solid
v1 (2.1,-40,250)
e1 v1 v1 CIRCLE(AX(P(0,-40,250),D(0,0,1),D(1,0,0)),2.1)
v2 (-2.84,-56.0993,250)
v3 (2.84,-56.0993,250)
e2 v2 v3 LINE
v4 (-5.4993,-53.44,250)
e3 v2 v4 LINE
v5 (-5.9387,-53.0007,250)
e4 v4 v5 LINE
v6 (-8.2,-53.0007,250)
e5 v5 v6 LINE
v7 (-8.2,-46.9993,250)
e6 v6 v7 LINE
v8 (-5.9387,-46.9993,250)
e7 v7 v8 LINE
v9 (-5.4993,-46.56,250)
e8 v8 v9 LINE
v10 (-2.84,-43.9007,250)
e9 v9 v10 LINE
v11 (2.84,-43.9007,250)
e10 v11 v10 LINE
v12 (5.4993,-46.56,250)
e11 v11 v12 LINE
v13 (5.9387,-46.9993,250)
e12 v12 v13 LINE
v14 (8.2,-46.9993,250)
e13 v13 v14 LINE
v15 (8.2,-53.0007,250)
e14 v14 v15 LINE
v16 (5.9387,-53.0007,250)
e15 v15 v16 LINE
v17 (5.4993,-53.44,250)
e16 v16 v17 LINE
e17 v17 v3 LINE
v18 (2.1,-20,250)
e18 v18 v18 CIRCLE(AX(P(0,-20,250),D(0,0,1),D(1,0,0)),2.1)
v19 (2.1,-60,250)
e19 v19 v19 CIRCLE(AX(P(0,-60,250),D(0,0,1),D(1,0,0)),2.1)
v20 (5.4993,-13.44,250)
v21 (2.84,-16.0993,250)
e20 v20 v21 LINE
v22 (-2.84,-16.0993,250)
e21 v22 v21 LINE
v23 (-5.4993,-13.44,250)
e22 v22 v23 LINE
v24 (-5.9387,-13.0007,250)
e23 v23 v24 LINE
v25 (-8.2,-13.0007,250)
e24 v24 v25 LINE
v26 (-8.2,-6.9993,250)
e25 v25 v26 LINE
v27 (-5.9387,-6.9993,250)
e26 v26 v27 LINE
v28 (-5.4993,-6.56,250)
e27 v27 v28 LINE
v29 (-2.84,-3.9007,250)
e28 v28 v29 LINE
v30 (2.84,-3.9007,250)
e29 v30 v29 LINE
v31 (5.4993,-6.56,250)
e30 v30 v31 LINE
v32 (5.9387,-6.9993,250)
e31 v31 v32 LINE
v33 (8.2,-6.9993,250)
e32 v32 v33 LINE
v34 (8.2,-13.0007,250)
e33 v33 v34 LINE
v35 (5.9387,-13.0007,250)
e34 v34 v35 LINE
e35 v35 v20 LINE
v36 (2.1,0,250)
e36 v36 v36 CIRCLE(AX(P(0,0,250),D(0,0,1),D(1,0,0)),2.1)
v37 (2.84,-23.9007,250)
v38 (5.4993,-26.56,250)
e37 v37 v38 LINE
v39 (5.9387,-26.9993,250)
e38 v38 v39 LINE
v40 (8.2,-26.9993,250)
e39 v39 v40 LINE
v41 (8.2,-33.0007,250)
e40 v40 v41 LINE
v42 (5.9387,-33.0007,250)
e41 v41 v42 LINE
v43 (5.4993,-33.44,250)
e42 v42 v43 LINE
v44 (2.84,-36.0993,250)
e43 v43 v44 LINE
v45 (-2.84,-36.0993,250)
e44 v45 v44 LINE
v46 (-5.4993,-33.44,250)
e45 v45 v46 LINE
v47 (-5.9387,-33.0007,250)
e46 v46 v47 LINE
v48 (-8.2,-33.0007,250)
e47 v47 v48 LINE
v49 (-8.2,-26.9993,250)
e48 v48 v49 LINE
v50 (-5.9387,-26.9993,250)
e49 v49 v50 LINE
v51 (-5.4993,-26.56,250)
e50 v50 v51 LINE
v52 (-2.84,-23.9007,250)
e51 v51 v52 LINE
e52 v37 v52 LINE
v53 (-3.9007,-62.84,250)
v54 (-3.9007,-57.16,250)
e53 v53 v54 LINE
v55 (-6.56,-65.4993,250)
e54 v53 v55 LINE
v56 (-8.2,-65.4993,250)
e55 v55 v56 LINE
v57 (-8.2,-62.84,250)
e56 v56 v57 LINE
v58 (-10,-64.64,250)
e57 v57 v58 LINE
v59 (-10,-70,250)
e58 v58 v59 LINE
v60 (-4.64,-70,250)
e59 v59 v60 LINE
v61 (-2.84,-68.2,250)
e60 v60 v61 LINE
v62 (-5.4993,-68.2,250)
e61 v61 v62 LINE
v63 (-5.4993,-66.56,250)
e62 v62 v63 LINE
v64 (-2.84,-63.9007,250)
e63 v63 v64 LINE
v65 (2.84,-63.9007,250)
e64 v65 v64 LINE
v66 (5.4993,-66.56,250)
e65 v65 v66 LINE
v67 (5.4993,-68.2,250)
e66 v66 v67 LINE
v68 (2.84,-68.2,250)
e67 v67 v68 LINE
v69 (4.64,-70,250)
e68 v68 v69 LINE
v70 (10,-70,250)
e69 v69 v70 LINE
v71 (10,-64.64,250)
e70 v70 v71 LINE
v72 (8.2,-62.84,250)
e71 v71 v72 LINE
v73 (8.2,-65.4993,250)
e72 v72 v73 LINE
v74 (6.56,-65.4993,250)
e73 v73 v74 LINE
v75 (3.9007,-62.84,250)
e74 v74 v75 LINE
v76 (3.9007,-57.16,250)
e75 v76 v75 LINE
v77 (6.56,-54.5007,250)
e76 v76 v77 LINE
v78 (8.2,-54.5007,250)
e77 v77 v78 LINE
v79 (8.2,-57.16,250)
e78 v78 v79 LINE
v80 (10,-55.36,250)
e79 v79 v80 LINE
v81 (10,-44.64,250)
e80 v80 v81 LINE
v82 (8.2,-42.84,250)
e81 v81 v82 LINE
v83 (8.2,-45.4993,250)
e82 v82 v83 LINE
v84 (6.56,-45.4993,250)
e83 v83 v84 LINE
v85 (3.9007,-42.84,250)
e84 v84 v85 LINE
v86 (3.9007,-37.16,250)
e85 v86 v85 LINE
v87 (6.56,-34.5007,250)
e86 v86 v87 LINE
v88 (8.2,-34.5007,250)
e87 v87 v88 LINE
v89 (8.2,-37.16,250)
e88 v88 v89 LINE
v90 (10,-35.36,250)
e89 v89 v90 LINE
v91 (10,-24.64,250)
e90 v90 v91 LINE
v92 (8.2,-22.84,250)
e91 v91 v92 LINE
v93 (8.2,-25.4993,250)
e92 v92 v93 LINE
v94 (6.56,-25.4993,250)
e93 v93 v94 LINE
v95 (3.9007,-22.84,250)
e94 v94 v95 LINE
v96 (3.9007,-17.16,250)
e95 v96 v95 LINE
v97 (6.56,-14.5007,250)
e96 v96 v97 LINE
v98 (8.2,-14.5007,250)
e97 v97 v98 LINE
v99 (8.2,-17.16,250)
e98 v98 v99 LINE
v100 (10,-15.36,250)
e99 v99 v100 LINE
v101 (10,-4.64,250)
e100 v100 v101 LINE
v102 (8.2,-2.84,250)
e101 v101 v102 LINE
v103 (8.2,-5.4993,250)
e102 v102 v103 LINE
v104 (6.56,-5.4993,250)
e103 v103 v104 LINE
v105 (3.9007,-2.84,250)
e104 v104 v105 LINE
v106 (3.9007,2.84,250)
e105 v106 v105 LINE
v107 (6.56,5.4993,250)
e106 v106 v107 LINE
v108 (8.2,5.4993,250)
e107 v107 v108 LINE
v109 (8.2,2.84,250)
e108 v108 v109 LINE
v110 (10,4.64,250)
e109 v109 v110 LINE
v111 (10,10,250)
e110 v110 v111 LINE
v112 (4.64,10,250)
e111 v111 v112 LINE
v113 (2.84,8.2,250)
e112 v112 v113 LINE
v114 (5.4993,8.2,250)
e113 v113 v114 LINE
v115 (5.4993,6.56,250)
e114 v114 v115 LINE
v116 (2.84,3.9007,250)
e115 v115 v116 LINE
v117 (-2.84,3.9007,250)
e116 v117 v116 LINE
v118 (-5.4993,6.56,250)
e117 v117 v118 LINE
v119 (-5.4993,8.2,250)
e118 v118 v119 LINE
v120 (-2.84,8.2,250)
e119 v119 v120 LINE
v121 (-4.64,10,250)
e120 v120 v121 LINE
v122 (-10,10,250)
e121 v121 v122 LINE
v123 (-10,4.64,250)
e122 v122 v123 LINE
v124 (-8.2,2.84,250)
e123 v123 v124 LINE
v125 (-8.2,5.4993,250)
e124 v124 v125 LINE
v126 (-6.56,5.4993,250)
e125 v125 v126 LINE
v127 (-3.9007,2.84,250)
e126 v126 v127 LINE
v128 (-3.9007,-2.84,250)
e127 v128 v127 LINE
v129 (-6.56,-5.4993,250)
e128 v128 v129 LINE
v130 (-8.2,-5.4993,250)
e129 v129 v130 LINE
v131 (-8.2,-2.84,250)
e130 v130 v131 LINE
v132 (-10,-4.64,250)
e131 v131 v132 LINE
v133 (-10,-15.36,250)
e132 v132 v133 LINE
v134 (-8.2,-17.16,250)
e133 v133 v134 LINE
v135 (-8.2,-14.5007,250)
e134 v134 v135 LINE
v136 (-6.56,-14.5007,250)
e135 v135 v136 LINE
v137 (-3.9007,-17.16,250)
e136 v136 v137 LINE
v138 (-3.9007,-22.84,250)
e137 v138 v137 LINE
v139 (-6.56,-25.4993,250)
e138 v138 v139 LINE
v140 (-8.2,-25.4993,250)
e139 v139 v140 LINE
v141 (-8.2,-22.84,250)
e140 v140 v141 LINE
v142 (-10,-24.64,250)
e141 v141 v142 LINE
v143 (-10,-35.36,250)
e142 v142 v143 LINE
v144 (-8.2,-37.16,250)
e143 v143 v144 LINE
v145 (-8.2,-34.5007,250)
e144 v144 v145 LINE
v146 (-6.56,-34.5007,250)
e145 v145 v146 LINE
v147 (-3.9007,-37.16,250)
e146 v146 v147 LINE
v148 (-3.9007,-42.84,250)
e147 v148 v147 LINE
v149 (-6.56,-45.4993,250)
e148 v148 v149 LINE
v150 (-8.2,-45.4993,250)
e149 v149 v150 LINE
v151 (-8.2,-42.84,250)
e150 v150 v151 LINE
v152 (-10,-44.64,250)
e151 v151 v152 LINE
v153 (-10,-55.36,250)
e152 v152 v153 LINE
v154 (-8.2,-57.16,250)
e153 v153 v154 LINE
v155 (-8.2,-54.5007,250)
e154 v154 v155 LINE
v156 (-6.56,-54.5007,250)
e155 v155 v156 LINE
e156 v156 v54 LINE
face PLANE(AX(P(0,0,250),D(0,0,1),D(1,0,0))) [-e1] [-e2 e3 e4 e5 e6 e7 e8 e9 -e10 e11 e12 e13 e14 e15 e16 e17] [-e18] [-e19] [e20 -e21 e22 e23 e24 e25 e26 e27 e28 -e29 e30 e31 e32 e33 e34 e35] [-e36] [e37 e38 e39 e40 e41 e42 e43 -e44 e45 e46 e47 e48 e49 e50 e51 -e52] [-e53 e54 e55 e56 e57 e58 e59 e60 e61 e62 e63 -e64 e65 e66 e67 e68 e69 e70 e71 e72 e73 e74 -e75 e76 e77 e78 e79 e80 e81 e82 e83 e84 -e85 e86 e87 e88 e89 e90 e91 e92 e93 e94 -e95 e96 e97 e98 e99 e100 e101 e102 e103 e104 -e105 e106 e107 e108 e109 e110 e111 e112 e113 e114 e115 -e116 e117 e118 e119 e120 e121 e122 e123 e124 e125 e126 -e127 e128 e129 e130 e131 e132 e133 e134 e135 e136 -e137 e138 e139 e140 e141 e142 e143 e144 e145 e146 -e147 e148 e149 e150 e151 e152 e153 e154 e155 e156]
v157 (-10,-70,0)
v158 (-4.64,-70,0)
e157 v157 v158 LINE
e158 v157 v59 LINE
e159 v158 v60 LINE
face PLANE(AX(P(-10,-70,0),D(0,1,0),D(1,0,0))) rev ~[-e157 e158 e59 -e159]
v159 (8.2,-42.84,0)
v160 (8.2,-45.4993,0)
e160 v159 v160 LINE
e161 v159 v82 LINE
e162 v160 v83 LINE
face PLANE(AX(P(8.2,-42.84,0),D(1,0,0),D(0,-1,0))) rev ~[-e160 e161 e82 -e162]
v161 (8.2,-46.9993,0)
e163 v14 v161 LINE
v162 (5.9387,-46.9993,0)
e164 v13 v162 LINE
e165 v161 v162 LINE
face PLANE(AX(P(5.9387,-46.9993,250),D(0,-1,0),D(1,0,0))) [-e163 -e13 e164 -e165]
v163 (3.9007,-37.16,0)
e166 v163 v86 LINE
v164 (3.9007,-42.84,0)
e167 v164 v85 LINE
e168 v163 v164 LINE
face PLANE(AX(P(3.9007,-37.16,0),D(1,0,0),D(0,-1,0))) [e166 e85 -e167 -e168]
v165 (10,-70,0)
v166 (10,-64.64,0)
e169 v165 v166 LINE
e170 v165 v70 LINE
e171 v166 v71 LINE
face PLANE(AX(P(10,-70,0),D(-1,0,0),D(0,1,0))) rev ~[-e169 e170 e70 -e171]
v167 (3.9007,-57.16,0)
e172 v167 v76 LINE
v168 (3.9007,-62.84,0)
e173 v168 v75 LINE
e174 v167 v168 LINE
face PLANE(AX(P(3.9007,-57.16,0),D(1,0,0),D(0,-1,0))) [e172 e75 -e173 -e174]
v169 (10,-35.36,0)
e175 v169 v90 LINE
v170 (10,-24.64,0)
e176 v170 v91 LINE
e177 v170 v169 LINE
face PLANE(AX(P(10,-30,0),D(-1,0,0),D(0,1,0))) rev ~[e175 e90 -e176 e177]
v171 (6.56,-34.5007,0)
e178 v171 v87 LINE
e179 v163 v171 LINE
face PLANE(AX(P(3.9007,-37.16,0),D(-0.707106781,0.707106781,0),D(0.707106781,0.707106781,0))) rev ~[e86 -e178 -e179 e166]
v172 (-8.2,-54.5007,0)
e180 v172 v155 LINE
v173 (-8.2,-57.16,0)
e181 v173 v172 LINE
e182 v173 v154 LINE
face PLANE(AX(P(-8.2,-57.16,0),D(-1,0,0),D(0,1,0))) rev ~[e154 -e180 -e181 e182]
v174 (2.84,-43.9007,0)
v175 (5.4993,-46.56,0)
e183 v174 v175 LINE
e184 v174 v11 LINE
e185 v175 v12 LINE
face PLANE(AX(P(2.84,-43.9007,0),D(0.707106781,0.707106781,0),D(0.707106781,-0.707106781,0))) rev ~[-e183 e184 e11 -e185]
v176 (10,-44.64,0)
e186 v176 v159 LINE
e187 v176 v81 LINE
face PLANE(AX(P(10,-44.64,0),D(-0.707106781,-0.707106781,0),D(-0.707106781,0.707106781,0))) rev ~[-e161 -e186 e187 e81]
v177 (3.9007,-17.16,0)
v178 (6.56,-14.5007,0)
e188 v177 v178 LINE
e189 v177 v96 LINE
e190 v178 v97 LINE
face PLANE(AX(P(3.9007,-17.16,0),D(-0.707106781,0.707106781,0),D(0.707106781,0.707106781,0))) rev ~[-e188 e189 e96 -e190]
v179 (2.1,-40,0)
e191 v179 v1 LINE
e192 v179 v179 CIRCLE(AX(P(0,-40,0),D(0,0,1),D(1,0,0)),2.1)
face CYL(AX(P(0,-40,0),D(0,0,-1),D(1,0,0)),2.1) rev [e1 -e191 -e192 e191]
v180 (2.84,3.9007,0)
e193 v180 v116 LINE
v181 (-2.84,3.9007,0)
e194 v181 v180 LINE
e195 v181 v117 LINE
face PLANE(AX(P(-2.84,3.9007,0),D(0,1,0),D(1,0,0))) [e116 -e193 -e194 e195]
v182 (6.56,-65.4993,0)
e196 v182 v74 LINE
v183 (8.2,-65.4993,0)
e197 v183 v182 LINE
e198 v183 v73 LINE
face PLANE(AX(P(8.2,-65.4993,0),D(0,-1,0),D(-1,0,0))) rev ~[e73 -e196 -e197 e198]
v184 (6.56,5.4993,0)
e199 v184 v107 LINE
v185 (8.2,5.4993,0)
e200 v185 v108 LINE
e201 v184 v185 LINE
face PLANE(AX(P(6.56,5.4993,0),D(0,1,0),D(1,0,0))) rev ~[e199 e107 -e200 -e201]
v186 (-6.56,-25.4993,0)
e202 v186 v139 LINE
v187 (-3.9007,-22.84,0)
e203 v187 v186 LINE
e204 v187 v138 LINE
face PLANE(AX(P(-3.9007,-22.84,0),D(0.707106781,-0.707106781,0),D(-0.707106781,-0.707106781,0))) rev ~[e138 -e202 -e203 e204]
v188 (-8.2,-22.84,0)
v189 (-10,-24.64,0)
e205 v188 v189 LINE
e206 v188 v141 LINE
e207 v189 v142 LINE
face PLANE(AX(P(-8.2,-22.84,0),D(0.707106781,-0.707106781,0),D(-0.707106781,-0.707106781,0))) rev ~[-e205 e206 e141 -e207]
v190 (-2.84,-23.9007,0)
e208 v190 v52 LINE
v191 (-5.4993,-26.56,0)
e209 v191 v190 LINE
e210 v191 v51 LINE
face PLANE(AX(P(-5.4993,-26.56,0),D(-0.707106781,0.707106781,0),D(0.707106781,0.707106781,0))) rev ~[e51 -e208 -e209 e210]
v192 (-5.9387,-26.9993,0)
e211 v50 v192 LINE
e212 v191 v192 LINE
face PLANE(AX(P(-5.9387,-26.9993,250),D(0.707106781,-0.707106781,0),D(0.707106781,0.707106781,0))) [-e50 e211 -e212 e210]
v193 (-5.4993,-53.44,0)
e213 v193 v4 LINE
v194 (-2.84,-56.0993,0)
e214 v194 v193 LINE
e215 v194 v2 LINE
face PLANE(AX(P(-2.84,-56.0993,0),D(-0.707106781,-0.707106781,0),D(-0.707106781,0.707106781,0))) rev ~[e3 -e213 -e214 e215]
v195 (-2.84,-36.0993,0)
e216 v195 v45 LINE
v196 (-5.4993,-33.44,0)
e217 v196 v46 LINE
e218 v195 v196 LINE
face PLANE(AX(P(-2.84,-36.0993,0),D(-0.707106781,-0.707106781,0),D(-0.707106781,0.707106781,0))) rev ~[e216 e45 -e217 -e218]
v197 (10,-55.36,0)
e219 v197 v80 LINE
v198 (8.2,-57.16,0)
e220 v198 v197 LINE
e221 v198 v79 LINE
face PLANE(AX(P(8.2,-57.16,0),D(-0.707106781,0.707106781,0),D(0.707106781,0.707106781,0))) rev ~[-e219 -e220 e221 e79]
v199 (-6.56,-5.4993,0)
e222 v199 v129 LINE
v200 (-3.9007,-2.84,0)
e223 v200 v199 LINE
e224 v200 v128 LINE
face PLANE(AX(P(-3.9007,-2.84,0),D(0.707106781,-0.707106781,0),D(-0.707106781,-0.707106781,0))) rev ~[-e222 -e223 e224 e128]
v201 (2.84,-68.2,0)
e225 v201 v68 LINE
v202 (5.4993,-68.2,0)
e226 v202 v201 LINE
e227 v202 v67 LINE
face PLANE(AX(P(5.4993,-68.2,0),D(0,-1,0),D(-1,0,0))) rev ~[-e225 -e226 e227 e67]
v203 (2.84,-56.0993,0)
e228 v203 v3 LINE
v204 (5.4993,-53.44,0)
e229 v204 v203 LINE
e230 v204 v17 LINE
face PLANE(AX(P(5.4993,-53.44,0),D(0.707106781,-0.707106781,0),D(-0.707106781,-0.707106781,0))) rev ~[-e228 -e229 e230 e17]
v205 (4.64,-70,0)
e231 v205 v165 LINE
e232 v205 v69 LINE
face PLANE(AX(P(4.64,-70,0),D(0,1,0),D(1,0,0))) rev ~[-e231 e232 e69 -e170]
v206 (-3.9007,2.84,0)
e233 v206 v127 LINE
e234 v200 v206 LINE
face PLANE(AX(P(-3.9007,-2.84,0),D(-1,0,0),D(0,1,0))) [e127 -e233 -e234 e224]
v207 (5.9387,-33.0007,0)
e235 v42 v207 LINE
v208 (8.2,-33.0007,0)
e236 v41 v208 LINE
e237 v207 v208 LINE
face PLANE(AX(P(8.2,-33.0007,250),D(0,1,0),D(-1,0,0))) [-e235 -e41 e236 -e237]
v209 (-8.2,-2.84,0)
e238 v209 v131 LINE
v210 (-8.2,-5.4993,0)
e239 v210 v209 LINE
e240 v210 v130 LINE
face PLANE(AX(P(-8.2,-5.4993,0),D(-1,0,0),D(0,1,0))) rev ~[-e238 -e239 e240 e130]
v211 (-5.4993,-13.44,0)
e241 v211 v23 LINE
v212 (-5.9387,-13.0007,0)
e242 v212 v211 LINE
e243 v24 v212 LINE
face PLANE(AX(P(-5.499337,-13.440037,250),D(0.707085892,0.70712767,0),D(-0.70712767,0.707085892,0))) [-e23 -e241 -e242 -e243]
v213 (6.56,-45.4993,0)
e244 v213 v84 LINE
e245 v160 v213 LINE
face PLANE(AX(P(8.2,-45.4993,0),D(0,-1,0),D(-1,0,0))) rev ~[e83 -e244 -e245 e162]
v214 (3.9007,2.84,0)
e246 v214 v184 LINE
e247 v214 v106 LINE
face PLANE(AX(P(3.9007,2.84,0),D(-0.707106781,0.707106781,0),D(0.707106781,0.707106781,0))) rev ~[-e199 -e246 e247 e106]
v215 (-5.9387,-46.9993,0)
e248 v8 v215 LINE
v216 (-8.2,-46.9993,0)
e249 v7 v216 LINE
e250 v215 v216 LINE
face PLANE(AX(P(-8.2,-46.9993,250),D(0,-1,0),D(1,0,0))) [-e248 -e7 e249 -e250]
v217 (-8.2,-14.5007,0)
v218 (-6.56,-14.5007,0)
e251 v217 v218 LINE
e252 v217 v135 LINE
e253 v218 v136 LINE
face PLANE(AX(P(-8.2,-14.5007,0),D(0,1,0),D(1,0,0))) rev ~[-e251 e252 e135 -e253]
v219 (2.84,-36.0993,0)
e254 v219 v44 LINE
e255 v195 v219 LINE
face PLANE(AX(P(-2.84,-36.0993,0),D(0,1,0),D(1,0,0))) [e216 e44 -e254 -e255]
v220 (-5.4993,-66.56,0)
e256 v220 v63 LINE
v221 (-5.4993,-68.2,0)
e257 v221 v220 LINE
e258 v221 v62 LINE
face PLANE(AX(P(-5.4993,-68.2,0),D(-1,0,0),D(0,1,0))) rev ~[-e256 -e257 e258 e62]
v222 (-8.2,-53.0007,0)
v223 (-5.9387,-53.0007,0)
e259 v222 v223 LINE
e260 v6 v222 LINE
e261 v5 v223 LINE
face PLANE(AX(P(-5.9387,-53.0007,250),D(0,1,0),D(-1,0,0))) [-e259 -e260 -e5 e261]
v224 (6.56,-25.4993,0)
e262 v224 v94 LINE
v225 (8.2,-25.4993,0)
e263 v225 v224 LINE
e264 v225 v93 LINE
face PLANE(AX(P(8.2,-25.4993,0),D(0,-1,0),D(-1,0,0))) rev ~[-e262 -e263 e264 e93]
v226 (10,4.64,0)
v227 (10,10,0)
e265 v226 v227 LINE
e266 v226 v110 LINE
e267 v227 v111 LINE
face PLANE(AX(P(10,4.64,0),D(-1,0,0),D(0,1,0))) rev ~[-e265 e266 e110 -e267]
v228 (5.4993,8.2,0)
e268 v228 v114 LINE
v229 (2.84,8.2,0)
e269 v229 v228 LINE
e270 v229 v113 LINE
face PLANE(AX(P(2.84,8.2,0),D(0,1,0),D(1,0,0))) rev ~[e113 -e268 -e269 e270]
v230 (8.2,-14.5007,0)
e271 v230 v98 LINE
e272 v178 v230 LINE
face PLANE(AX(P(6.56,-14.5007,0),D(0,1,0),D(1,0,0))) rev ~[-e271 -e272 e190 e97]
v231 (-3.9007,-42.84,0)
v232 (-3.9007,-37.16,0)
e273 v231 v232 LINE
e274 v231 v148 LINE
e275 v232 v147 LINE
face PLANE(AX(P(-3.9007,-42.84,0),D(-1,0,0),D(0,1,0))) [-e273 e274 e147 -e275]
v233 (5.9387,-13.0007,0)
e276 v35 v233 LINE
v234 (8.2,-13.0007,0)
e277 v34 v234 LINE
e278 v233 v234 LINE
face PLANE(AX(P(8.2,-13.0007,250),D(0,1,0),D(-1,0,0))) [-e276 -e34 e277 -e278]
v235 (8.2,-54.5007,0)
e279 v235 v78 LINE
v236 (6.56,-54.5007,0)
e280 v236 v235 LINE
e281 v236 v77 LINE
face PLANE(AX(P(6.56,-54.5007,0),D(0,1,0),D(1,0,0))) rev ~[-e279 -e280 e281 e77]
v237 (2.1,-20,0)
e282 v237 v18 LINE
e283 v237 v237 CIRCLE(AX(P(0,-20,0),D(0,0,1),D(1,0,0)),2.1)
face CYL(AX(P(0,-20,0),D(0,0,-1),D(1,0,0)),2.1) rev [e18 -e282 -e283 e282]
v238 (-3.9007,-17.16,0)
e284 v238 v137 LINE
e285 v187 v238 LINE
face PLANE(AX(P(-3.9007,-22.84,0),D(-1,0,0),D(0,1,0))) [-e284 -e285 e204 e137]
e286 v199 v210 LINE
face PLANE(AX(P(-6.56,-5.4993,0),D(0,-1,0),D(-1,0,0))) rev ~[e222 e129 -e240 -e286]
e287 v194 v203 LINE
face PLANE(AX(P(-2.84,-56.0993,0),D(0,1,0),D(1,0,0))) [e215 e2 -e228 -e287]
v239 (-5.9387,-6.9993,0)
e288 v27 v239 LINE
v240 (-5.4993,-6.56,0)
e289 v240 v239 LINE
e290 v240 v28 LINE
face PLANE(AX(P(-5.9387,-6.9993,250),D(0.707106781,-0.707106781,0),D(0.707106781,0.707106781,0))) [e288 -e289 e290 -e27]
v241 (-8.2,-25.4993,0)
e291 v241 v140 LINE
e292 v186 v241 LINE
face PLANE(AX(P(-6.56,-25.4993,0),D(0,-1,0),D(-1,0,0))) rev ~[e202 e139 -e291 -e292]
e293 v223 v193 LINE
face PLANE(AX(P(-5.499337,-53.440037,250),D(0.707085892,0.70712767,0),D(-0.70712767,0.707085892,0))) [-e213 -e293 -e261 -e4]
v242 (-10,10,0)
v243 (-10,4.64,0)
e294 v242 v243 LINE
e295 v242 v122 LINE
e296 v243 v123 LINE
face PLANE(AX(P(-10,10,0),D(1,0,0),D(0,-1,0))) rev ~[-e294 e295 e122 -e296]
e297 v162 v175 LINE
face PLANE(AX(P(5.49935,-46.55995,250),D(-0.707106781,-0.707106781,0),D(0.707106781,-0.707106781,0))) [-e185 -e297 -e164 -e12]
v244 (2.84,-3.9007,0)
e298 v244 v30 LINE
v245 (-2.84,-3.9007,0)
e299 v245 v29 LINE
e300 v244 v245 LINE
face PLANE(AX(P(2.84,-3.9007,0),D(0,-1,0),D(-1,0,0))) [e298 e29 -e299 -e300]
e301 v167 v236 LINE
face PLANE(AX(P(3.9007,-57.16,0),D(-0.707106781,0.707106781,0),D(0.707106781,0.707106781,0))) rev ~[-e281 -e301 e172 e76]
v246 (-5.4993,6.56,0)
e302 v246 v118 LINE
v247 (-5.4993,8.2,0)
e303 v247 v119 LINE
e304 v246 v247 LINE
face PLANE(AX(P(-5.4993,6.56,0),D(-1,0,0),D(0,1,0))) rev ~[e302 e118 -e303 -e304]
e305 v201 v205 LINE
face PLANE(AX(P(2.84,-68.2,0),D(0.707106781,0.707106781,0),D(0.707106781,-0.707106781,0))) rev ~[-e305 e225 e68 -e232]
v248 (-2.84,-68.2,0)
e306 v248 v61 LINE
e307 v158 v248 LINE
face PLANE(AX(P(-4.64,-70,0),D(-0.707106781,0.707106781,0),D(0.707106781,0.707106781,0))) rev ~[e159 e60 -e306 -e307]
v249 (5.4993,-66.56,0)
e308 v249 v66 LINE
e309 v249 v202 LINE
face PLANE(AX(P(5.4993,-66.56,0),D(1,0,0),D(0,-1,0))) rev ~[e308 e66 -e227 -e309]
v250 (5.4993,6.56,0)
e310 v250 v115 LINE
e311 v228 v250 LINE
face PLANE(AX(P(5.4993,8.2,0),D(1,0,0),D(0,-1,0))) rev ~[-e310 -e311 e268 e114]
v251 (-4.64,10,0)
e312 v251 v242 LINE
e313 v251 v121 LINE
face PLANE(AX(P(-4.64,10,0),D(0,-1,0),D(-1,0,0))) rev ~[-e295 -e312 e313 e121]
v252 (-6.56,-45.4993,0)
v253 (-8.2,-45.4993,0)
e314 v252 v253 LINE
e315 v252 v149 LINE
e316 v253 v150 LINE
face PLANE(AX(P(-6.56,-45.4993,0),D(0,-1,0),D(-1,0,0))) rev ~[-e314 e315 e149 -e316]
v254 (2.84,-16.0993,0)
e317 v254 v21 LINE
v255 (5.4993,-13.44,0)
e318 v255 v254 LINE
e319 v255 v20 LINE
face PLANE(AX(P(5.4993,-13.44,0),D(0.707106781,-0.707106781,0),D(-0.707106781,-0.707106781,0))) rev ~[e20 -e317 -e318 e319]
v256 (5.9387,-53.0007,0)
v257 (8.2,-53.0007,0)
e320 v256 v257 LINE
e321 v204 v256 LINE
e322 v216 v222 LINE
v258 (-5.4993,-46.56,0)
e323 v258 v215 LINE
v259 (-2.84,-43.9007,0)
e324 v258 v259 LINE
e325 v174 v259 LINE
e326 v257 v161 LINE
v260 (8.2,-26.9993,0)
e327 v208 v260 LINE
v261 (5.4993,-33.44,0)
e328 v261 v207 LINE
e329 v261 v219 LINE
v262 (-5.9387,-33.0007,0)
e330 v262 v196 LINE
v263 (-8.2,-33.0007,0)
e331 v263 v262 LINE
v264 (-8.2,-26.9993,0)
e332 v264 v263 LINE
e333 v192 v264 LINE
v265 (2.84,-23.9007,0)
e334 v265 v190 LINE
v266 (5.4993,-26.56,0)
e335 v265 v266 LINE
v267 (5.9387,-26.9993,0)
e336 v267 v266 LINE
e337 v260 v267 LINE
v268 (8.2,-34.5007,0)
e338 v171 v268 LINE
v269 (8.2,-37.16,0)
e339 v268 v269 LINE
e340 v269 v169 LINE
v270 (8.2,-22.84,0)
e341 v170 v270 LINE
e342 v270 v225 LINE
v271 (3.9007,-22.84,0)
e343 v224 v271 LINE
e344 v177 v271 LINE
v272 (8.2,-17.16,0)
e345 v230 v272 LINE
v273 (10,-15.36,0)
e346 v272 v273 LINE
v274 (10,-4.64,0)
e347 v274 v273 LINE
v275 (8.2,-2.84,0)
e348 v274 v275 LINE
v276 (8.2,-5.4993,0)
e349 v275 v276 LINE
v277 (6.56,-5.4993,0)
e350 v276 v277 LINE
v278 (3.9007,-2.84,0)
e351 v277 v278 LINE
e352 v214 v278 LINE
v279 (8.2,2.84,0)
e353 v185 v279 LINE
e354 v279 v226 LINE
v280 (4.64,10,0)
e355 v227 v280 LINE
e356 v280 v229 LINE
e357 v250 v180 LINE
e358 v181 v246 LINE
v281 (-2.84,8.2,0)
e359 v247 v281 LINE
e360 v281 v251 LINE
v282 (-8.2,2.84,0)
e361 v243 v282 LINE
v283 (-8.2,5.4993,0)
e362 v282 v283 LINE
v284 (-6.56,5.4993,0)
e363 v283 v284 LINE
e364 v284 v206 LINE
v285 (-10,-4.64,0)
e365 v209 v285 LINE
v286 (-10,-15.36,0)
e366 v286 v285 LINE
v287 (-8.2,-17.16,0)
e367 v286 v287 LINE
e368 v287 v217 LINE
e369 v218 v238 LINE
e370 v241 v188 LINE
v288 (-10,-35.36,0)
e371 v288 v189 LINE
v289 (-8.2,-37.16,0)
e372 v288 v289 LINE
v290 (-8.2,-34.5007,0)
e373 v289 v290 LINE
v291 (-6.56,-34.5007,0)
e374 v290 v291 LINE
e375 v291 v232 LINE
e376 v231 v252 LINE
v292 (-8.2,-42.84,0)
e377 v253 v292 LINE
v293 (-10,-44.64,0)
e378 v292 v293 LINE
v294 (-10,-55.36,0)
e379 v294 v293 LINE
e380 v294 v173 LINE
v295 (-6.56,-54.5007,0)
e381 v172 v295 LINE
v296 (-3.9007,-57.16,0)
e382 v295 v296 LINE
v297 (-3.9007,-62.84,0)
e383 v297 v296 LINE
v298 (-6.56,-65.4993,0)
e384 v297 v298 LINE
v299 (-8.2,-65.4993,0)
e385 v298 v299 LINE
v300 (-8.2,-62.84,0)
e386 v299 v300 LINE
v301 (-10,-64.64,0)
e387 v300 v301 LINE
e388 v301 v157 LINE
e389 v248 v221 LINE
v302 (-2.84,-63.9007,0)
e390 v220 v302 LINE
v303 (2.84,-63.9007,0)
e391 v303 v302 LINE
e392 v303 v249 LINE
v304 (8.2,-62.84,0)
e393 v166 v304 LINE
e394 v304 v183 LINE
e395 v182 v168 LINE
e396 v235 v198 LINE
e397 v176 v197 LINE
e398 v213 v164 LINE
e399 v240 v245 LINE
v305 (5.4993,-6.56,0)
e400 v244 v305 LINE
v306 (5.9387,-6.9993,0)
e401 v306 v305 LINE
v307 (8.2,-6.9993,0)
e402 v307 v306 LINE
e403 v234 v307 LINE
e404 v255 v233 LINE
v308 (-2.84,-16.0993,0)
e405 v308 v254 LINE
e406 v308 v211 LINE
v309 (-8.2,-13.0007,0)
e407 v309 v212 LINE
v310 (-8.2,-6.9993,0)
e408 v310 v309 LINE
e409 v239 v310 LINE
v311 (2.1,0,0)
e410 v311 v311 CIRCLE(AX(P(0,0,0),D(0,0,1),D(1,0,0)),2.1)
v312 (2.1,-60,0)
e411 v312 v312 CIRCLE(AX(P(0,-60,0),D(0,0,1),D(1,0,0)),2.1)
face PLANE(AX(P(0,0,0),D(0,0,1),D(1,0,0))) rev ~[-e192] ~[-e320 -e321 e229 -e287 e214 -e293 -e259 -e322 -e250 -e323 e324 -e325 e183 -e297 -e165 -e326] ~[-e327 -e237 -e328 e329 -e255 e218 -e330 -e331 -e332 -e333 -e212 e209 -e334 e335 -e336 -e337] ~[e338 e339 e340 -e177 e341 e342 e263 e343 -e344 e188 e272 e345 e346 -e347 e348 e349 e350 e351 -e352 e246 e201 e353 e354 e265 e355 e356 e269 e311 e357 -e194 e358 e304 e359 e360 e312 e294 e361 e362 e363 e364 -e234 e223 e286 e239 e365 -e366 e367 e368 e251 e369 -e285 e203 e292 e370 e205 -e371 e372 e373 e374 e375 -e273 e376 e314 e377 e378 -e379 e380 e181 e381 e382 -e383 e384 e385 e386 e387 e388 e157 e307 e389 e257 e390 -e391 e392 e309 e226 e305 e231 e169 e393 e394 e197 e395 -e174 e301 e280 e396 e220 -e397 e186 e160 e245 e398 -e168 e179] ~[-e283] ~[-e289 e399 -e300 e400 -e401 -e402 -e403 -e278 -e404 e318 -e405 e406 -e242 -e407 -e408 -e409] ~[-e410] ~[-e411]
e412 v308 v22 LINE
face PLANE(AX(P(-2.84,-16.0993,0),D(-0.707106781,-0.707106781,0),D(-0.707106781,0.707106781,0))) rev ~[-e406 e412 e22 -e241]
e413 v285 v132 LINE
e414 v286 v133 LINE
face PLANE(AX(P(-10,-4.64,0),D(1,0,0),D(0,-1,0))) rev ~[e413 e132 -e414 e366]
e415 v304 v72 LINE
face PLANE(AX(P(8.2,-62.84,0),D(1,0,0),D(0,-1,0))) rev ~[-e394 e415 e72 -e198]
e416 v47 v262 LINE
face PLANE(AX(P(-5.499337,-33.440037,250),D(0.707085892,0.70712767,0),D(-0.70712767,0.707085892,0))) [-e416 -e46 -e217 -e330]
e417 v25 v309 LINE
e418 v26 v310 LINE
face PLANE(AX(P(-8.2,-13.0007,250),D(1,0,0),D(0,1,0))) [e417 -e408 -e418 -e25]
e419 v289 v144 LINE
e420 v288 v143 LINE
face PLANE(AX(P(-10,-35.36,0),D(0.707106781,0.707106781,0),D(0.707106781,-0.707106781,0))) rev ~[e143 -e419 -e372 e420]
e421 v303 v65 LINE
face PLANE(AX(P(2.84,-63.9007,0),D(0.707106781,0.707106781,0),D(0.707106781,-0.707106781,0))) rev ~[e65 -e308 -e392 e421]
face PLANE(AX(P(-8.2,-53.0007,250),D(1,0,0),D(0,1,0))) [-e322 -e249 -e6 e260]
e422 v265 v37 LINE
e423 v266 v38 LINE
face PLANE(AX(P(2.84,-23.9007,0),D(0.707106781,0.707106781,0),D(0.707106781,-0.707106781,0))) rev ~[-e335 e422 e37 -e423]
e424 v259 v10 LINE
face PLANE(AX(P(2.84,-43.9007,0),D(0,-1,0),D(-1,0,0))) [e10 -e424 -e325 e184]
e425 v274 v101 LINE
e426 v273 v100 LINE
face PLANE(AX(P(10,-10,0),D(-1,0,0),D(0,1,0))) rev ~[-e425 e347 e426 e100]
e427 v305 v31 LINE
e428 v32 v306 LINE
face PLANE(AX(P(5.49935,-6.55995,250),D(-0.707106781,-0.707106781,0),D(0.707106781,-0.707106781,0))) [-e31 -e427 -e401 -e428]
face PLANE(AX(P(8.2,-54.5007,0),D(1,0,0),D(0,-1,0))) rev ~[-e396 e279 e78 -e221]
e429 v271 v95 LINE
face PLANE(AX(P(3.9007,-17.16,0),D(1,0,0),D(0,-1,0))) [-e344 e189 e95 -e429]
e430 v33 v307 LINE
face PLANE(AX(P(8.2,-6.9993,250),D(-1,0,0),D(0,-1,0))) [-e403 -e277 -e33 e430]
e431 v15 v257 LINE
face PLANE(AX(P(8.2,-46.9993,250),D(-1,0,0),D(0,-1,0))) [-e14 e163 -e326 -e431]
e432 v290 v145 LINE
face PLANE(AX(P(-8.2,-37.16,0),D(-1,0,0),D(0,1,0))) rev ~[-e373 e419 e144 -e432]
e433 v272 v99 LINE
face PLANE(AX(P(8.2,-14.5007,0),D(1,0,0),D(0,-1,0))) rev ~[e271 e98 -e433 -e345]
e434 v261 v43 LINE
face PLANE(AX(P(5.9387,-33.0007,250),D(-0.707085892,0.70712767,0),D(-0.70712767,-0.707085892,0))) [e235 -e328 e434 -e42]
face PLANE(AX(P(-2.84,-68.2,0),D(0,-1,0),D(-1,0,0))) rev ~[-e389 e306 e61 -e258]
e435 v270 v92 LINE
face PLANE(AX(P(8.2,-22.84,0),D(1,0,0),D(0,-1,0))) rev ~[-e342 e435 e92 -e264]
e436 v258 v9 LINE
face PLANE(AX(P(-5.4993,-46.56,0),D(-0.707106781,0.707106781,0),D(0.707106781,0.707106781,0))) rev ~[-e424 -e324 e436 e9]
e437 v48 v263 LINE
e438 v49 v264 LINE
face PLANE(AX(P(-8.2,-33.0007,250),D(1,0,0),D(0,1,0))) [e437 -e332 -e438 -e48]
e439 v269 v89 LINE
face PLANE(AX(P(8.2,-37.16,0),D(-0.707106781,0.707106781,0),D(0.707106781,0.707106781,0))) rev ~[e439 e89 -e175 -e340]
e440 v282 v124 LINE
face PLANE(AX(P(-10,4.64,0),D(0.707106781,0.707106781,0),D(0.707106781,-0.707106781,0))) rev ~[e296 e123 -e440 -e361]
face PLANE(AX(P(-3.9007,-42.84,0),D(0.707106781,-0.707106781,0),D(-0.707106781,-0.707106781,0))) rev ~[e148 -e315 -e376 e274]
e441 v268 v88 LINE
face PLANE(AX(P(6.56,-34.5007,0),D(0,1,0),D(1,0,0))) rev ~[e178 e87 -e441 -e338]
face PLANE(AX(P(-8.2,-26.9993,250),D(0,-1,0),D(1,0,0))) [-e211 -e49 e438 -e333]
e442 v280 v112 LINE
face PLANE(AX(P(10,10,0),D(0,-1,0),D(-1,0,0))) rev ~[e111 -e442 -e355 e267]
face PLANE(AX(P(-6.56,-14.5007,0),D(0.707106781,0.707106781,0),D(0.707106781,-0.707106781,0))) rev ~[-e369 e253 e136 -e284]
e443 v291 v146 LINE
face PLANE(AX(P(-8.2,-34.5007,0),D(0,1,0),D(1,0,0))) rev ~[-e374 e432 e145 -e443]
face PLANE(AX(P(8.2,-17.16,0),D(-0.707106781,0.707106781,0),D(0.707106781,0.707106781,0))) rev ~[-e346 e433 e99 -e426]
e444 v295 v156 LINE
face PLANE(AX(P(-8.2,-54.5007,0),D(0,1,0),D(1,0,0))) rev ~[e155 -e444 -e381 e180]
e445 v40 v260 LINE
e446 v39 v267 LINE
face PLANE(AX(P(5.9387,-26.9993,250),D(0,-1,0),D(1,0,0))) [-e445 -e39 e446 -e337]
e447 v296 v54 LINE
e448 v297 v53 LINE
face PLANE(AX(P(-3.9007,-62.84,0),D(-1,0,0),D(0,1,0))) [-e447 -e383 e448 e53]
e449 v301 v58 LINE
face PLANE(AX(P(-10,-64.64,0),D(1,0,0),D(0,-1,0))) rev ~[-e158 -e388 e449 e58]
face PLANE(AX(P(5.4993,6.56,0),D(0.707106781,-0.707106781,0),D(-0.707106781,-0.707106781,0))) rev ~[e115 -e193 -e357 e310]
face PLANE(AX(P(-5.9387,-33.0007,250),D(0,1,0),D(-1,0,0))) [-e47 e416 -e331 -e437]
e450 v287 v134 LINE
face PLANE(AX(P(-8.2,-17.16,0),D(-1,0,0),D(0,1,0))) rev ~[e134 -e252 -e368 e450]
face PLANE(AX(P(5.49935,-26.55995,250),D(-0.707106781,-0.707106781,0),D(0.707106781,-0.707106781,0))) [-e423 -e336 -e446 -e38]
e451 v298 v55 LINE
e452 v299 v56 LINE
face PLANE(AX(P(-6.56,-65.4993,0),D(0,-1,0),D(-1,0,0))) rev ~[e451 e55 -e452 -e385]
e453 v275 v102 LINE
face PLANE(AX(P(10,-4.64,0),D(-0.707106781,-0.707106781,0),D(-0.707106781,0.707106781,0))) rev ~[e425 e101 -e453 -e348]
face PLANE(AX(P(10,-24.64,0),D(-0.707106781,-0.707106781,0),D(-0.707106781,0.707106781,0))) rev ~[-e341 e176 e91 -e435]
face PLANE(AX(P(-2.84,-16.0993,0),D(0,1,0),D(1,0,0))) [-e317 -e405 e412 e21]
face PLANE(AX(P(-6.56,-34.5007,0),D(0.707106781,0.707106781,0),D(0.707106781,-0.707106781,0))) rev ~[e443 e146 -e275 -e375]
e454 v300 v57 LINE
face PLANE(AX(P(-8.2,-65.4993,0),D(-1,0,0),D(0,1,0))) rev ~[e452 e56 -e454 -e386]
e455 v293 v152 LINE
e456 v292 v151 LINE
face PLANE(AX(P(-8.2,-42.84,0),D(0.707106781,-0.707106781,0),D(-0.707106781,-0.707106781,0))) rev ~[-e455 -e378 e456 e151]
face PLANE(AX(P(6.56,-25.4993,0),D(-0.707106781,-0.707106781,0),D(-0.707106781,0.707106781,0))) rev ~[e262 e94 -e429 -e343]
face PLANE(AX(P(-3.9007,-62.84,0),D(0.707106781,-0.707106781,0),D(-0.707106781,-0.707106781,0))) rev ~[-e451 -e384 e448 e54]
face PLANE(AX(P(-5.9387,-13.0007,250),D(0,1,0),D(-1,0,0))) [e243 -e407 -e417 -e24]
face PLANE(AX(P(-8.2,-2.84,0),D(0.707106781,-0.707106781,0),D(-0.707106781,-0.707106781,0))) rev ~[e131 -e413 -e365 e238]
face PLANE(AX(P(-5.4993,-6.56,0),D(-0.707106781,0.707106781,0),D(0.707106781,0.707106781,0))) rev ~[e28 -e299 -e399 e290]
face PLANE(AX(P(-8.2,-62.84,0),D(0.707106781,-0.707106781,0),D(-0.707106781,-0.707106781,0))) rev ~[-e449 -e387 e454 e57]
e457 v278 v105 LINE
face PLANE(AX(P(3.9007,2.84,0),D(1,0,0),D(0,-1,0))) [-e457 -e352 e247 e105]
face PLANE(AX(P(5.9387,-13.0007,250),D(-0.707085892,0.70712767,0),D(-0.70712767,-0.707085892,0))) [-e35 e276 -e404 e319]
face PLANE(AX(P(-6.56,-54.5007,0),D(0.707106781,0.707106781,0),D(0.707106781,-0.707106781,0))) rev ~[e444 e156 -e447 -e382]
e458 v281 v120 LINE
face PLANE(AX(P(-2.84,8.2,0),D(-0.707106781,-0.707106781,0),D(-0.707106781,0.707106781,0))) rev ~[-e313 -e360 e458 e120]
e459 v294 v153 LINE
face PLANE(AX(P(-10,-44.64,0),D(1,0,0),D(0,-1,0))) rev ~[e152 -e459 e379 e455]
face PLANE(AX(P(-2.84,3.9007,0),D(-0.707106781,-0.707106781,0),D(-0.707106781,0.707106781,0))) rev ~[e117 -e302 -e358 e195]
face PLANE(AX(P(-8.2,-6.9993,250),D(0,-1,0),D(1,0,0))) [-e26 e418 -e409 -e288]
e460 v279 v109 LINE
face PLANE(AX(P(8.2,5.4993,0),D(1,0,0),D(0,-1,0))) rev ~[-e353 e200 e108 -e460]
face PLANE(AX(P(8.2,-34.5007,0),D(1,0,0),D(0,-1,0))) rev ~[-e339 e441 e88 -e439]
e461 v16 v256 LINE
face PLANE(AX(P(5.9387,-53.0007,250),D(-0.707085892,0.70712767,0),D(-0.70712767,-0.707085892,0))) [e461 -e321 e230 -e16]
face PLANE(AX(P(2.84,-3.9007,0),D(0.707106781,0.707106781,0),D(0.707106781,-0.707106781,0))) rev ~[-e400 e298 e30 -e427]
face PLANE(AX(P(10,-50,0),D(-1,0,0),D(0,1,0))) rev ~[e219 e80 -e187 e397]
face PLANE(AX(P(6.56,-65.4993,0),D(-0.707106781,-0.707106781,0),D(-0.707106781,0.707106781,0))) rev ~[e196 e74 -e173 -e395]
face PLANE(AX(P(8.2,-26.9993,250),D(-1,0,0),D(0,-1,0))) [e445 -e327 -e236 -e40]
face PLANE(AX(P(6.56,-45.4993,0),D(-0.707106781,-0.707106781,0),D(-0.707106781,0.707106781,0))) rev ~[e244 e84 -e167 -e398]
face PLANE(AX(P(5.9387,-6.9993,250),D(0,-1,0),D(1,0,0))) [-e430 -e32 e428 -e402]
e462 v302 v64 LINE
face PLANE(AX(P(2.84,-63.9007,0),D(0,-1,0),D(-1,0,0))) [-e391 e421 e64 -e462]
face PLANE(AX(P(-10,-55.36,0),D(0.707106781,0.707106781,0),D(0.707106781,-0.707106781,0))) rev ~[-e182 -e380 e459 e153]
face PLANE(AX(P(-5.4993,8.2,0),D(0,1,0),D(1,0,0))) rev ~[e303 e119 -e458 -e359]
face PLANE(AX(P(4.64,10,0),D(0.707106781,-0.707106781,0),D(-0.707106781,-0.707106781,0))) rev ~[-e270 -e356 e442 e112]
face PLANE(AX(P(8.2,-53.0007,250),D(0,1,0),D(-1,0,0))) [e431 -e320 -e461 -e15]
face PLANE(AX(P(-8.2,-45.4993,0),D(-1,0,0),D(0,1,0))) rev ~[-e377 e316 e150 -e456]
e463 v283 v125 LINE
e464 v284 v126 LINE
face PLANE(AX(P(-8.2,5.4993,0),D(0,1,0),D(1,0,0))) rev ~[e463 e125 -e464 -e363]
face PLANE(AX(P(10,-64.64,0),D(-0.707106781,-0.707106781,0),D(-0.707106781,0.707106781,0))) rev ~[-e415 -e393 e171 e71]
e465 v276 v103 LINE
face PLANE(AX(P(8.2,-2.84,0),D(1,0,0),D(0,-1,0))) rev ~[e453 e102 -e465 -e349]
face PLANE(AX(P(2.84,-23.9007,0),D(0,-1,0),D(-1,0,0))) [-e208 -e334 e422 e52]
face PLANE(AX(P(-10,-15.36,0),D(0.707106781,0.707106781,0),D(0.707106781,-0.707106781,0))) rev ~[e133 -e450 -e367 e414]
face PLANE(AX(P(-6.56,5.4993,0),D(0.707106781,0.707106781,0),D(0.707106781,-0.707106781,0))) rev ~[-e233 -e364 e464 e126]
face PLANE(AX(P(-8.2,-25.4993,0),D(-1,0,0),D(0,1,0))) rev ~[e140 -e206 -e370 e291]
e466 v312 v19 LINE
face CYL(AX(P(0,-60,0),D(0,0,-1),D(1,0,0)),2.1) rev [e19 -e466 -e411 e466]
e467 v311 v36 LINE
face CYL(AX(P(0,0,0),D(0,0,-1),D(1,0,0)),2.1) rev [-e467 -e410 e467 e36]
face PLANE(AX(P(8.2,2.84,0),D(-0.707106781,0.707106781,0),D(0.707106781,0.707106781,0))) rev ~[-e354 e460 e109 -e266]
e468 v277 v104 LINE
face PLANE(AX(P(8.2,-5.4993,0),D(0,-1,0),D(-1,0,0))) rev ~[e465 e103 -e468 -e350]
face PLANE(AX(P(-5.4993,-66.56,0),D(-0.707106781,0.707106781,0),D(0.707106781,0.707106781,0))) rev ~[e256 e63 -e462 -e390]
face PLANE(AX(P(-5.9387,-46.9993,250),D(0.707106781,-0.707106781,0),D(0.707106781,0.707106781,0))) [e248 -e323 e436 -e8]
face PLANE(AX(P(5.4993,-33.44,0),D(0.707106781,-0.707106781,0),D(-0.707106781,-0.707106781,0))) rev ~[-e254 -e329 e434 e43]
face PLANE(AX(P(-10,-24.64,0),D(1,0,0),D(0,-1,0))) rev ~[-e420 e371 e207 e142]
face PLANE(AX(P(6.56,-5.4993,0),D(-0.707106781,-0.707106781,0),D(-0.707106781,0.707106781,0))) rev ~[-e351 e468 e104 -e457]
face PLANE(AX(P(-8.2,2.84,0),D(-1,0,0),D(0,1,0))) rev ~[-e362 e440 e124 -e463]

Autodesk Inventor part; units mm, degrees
ref_plane "YZ Plane" through (0, 0, 0) normal (1, 0, 0) x (0, 1, 0)
ref_plane "XZ Plane" through (0, 0, 0) normal (0, 1, 0) x (-1, 0, 0)
ref_plane "XY Plane" through (0, 0, 0) normal (0, 0, 1) x (1, 0, 0)
sketch "Sketch1" plane through (0, 0, 0) normal (0, 0, 1) x (1, 0, 0)
  line L0 (-3.9007, 3.9007) -> (3.9007, 3.9007)
  line L1 (3.9007, 3.9007) -> (3.9007, -3.9007)
  line L2 (3.9007, -3.9007) -> (-3.9007, -3.9007)
  line L3 (-3.9007, -3.9007) -> (-3.9007, 3.9007)
  line L4 (0, 3.9007) -> (0, -3.9007) construction
  line L5 (-3.9007, 0) -> (3.9007, 0) construction
  circle A0 centre (0, 0) radius 2.1
  line L6 (0, 0) -> (-16.1173, 16.1173) construction
  line L7 (0, 0) -> (22.7933, 0) construction
  line L8 (-2.84, 3.9007) -> (-5.4993, 6.56)
  line L9 (-5.4993, 6.56) -> (-5.4993, 8.2)
  line L10 (-5.4993, 8.2) -> (-2.84, 8.2)
  line L11 (-2.84, 8.2) -> (-4.64, 10)
  line L12 (-4.64, 10) -> (-10, 10)
  line L13 (-10, 10) -> (-10, 4.64)
  line L14 (-10, 4.64) -> (-8.2, 2.84)
  line L15 (-8.2, 2.84) -> (-8.2, 5.4993)
  line L16 (-8.2, 5.4993) -> (-6.56, 5.4993)
  line L17 (-6.56, 5.4993) -> (-3.9007, 2.84)
  line L18 (-3.9007, 2.84) -> (-11.3102, 2.84) construction
  line L19 (-2.84, 3.9007) -> (-3.9007, 3.9007)
  line L20 (-3.9007, 2.84) -> (-3.9007, 3.9007)
  line L21 (-3.9007, -2.84) -> (-6.56, -5.4993)
  line L22 (-6.56, -5.4993) -> (-8.2, -5.4993)
  line L23 (-8.2, -5.4993) -> (-8.2, -2.84)
  line L24 (-8.2, -2.84) -> (-10, -4.64)
  line L25 (-10, -4.64) -> (-10, -10)
  line L26 (-10, -10) -> (-4.64, -10)
  line L27 (-4.64, -10) -> (-2.84, -8.2)
  line L28 (-2.84, -8.2) -> (-5.4993, -8.2)
  line L29 (-5.4993, -8.2) -> (-5.4993, -6.56)
  line L30 (-5.4993, -6.56) -> (-2.84, -3.9007)
  line L31 (-3.9007, -2.84) -> (-3.9007, -3.9007)
  line L32 (-2.84, -3.9007) -> (-3.9007, -3.9007)
  line L33 (2.84, -3.9007) -> (5.4993, -6.56)
  line L34 (5.4993, -6.56) -> (5.4993, -8.2)
  line L35 (5.4993, -8.2) -> (2.84, -8.2)
  line L36 (2.84, -8.2) -> (4.64, -10)
  line L37 (4.64, -10) -> (10, -10)
  line L38 (10, -10) -> (10, -4.64)
  line L39 (10, -4.64) -> (8.2, -2.84)
  line L40 (8.2, -2.84) -> (8.2, -5.4993)
  line L41 (8.2, -5.4993) -> (6.56, -5.4993)
  line L42 (6.56, -5.4993) -> (3.9007, -2.84)
  line L43 (2.84, -3.9007) -> (3.9007, -3.9007)
  line L44 (3.9007, -2.84) -> (3.9007, -3.9007)
  line L45 (3.9007, 2.84) -> (6.56, 5.4993)
  line L46 (6.56, 5.4993) -> (8.2, 5.4993)
  line L47 (8.2, 5.4993) -> (8.2, 2.84)
  line L48 (8.2, 2.84) -> (10, 4.64)
  line L49 (10, 4.64) -> (10, 10)
  line L50 (10, 10) -> (4.64, 10)
  line L51 (4.64, 10) -> (2.84, 8.2)
  line L52 (2.84, 8.2) -> (5.4993, 8.2)
  line L53 (5.4993, 8.2) -> (5.4993, 6.56)
  line L54 (5.4993, 6.56) -> (2.84, 3.9007)
  line L55 (3.9007, 2.84) -> (3.9007, 3.9007)
  line L56 (2.84, 3.9007) -> (3.9007, 3.9007)
  dimension "d7" = 4.2
  dimension "d8" = 135
  dimension "d9" = 1.5
  dimension "d10" = 1.64
  dimension "d11" = 1.8
  dimension "d12" = 2.84
  dimension "d13" = 10
  dimension "d16" = 360
extrude "Extrusion1" add sketch "Sketch1" along normal blind 250
pattern_linear "Rectangular Pattern1" count 4 spacing 20 along (0, -1, 0) of "Extrusion1"
sketch "Sketch2" plane through (0, 0, 250) normal (0, 0, 1) x (1, 0, 0)
  line L0 (8.2, -2.84) -> (8.2, -5.4993) projected
  line L1 (8.2, -5.4993) -> (6.56, -5.4993) projected
  line L2 (-6.56, -5.4993) -> (-8.2, -5.4993) projected
  line L3 (-8.2, -5.4993) -> (-8.2, -2.84) projected
  line L4 (-8.2, -14.5007) -> (-6.56, -14.5007) projected
  line L5 (6.56, -14.5007) -> (8.2, -14.5007) projected
  line L6 (5.4993, -11.8) -> (5.4993, -13.44) projected
  line L7 (5.4993, -13.44) -> (2.84, -16.0993) projected
  line L8 (-2.84, -16.0993) -> (-5.4993, -13.44) projected
  line L9 (-5.4993, -8.2) -> (-5.4993, -6.56) projected
  line L10 (-5.4993, -6.56) -> (-2.84, -3.9007) projected
  line L11 (2.84, -3.9007) -> (5.4993, -6.56) projected
  line L12 (2.84, -8.2) -> (4.64, -10) projected
  line L13 (-8.2, -6.9993) -> (-5.9387, -6.9993)
  line L14 (-5.9387, -6.9993) -> (-4.1231, -5.1837)
  line L15 (-4.1231, -5.1837) -> (4.1231, -5.1837)
  line L16 (4.1231, -5.1837) -> (5.9387, -6.9993)
  line L17 (5.9387, -6.9993) -> (8.2, -6.9993)
  line L18 (8.2, -6.9993) -> (8.2, -13.0007)
  line L19 (8.2, -13.0007) -> (5.9387, -13.0007)
  line L20 (5.9387, -13.0007) -> (4.2461, -14.6932)
  line L21 (4.2461, -14.6932) -> (-4.2461, -14.6932)
  line L22 (-4.2461, -14.6932) -> (-5.9387, -13.0007)
  line L23 (-5.9387, -13.0007) -> (-8.2, -13.0007)
  line L24 (-8.2, -13.0007) -> (-8.2, -6.9993)
  dimension "d23" = 1.5
  dimension "d24" = 1.5
  dimension "d25" = 1.5
  dimension "d26" = 1.5
extrude "Extrusion2" cut sketch "Sketch2" against normal up to next
pattern_linear "Rectangular Pattern2" count 3 spacing 20 along (0, -1, 0) of "Extrusion2"
equation "\"d24\" = d23"
equation "\"d25\" = d23"
equation "\"d26\" = d23"
properties part number "20x80x250mm"
